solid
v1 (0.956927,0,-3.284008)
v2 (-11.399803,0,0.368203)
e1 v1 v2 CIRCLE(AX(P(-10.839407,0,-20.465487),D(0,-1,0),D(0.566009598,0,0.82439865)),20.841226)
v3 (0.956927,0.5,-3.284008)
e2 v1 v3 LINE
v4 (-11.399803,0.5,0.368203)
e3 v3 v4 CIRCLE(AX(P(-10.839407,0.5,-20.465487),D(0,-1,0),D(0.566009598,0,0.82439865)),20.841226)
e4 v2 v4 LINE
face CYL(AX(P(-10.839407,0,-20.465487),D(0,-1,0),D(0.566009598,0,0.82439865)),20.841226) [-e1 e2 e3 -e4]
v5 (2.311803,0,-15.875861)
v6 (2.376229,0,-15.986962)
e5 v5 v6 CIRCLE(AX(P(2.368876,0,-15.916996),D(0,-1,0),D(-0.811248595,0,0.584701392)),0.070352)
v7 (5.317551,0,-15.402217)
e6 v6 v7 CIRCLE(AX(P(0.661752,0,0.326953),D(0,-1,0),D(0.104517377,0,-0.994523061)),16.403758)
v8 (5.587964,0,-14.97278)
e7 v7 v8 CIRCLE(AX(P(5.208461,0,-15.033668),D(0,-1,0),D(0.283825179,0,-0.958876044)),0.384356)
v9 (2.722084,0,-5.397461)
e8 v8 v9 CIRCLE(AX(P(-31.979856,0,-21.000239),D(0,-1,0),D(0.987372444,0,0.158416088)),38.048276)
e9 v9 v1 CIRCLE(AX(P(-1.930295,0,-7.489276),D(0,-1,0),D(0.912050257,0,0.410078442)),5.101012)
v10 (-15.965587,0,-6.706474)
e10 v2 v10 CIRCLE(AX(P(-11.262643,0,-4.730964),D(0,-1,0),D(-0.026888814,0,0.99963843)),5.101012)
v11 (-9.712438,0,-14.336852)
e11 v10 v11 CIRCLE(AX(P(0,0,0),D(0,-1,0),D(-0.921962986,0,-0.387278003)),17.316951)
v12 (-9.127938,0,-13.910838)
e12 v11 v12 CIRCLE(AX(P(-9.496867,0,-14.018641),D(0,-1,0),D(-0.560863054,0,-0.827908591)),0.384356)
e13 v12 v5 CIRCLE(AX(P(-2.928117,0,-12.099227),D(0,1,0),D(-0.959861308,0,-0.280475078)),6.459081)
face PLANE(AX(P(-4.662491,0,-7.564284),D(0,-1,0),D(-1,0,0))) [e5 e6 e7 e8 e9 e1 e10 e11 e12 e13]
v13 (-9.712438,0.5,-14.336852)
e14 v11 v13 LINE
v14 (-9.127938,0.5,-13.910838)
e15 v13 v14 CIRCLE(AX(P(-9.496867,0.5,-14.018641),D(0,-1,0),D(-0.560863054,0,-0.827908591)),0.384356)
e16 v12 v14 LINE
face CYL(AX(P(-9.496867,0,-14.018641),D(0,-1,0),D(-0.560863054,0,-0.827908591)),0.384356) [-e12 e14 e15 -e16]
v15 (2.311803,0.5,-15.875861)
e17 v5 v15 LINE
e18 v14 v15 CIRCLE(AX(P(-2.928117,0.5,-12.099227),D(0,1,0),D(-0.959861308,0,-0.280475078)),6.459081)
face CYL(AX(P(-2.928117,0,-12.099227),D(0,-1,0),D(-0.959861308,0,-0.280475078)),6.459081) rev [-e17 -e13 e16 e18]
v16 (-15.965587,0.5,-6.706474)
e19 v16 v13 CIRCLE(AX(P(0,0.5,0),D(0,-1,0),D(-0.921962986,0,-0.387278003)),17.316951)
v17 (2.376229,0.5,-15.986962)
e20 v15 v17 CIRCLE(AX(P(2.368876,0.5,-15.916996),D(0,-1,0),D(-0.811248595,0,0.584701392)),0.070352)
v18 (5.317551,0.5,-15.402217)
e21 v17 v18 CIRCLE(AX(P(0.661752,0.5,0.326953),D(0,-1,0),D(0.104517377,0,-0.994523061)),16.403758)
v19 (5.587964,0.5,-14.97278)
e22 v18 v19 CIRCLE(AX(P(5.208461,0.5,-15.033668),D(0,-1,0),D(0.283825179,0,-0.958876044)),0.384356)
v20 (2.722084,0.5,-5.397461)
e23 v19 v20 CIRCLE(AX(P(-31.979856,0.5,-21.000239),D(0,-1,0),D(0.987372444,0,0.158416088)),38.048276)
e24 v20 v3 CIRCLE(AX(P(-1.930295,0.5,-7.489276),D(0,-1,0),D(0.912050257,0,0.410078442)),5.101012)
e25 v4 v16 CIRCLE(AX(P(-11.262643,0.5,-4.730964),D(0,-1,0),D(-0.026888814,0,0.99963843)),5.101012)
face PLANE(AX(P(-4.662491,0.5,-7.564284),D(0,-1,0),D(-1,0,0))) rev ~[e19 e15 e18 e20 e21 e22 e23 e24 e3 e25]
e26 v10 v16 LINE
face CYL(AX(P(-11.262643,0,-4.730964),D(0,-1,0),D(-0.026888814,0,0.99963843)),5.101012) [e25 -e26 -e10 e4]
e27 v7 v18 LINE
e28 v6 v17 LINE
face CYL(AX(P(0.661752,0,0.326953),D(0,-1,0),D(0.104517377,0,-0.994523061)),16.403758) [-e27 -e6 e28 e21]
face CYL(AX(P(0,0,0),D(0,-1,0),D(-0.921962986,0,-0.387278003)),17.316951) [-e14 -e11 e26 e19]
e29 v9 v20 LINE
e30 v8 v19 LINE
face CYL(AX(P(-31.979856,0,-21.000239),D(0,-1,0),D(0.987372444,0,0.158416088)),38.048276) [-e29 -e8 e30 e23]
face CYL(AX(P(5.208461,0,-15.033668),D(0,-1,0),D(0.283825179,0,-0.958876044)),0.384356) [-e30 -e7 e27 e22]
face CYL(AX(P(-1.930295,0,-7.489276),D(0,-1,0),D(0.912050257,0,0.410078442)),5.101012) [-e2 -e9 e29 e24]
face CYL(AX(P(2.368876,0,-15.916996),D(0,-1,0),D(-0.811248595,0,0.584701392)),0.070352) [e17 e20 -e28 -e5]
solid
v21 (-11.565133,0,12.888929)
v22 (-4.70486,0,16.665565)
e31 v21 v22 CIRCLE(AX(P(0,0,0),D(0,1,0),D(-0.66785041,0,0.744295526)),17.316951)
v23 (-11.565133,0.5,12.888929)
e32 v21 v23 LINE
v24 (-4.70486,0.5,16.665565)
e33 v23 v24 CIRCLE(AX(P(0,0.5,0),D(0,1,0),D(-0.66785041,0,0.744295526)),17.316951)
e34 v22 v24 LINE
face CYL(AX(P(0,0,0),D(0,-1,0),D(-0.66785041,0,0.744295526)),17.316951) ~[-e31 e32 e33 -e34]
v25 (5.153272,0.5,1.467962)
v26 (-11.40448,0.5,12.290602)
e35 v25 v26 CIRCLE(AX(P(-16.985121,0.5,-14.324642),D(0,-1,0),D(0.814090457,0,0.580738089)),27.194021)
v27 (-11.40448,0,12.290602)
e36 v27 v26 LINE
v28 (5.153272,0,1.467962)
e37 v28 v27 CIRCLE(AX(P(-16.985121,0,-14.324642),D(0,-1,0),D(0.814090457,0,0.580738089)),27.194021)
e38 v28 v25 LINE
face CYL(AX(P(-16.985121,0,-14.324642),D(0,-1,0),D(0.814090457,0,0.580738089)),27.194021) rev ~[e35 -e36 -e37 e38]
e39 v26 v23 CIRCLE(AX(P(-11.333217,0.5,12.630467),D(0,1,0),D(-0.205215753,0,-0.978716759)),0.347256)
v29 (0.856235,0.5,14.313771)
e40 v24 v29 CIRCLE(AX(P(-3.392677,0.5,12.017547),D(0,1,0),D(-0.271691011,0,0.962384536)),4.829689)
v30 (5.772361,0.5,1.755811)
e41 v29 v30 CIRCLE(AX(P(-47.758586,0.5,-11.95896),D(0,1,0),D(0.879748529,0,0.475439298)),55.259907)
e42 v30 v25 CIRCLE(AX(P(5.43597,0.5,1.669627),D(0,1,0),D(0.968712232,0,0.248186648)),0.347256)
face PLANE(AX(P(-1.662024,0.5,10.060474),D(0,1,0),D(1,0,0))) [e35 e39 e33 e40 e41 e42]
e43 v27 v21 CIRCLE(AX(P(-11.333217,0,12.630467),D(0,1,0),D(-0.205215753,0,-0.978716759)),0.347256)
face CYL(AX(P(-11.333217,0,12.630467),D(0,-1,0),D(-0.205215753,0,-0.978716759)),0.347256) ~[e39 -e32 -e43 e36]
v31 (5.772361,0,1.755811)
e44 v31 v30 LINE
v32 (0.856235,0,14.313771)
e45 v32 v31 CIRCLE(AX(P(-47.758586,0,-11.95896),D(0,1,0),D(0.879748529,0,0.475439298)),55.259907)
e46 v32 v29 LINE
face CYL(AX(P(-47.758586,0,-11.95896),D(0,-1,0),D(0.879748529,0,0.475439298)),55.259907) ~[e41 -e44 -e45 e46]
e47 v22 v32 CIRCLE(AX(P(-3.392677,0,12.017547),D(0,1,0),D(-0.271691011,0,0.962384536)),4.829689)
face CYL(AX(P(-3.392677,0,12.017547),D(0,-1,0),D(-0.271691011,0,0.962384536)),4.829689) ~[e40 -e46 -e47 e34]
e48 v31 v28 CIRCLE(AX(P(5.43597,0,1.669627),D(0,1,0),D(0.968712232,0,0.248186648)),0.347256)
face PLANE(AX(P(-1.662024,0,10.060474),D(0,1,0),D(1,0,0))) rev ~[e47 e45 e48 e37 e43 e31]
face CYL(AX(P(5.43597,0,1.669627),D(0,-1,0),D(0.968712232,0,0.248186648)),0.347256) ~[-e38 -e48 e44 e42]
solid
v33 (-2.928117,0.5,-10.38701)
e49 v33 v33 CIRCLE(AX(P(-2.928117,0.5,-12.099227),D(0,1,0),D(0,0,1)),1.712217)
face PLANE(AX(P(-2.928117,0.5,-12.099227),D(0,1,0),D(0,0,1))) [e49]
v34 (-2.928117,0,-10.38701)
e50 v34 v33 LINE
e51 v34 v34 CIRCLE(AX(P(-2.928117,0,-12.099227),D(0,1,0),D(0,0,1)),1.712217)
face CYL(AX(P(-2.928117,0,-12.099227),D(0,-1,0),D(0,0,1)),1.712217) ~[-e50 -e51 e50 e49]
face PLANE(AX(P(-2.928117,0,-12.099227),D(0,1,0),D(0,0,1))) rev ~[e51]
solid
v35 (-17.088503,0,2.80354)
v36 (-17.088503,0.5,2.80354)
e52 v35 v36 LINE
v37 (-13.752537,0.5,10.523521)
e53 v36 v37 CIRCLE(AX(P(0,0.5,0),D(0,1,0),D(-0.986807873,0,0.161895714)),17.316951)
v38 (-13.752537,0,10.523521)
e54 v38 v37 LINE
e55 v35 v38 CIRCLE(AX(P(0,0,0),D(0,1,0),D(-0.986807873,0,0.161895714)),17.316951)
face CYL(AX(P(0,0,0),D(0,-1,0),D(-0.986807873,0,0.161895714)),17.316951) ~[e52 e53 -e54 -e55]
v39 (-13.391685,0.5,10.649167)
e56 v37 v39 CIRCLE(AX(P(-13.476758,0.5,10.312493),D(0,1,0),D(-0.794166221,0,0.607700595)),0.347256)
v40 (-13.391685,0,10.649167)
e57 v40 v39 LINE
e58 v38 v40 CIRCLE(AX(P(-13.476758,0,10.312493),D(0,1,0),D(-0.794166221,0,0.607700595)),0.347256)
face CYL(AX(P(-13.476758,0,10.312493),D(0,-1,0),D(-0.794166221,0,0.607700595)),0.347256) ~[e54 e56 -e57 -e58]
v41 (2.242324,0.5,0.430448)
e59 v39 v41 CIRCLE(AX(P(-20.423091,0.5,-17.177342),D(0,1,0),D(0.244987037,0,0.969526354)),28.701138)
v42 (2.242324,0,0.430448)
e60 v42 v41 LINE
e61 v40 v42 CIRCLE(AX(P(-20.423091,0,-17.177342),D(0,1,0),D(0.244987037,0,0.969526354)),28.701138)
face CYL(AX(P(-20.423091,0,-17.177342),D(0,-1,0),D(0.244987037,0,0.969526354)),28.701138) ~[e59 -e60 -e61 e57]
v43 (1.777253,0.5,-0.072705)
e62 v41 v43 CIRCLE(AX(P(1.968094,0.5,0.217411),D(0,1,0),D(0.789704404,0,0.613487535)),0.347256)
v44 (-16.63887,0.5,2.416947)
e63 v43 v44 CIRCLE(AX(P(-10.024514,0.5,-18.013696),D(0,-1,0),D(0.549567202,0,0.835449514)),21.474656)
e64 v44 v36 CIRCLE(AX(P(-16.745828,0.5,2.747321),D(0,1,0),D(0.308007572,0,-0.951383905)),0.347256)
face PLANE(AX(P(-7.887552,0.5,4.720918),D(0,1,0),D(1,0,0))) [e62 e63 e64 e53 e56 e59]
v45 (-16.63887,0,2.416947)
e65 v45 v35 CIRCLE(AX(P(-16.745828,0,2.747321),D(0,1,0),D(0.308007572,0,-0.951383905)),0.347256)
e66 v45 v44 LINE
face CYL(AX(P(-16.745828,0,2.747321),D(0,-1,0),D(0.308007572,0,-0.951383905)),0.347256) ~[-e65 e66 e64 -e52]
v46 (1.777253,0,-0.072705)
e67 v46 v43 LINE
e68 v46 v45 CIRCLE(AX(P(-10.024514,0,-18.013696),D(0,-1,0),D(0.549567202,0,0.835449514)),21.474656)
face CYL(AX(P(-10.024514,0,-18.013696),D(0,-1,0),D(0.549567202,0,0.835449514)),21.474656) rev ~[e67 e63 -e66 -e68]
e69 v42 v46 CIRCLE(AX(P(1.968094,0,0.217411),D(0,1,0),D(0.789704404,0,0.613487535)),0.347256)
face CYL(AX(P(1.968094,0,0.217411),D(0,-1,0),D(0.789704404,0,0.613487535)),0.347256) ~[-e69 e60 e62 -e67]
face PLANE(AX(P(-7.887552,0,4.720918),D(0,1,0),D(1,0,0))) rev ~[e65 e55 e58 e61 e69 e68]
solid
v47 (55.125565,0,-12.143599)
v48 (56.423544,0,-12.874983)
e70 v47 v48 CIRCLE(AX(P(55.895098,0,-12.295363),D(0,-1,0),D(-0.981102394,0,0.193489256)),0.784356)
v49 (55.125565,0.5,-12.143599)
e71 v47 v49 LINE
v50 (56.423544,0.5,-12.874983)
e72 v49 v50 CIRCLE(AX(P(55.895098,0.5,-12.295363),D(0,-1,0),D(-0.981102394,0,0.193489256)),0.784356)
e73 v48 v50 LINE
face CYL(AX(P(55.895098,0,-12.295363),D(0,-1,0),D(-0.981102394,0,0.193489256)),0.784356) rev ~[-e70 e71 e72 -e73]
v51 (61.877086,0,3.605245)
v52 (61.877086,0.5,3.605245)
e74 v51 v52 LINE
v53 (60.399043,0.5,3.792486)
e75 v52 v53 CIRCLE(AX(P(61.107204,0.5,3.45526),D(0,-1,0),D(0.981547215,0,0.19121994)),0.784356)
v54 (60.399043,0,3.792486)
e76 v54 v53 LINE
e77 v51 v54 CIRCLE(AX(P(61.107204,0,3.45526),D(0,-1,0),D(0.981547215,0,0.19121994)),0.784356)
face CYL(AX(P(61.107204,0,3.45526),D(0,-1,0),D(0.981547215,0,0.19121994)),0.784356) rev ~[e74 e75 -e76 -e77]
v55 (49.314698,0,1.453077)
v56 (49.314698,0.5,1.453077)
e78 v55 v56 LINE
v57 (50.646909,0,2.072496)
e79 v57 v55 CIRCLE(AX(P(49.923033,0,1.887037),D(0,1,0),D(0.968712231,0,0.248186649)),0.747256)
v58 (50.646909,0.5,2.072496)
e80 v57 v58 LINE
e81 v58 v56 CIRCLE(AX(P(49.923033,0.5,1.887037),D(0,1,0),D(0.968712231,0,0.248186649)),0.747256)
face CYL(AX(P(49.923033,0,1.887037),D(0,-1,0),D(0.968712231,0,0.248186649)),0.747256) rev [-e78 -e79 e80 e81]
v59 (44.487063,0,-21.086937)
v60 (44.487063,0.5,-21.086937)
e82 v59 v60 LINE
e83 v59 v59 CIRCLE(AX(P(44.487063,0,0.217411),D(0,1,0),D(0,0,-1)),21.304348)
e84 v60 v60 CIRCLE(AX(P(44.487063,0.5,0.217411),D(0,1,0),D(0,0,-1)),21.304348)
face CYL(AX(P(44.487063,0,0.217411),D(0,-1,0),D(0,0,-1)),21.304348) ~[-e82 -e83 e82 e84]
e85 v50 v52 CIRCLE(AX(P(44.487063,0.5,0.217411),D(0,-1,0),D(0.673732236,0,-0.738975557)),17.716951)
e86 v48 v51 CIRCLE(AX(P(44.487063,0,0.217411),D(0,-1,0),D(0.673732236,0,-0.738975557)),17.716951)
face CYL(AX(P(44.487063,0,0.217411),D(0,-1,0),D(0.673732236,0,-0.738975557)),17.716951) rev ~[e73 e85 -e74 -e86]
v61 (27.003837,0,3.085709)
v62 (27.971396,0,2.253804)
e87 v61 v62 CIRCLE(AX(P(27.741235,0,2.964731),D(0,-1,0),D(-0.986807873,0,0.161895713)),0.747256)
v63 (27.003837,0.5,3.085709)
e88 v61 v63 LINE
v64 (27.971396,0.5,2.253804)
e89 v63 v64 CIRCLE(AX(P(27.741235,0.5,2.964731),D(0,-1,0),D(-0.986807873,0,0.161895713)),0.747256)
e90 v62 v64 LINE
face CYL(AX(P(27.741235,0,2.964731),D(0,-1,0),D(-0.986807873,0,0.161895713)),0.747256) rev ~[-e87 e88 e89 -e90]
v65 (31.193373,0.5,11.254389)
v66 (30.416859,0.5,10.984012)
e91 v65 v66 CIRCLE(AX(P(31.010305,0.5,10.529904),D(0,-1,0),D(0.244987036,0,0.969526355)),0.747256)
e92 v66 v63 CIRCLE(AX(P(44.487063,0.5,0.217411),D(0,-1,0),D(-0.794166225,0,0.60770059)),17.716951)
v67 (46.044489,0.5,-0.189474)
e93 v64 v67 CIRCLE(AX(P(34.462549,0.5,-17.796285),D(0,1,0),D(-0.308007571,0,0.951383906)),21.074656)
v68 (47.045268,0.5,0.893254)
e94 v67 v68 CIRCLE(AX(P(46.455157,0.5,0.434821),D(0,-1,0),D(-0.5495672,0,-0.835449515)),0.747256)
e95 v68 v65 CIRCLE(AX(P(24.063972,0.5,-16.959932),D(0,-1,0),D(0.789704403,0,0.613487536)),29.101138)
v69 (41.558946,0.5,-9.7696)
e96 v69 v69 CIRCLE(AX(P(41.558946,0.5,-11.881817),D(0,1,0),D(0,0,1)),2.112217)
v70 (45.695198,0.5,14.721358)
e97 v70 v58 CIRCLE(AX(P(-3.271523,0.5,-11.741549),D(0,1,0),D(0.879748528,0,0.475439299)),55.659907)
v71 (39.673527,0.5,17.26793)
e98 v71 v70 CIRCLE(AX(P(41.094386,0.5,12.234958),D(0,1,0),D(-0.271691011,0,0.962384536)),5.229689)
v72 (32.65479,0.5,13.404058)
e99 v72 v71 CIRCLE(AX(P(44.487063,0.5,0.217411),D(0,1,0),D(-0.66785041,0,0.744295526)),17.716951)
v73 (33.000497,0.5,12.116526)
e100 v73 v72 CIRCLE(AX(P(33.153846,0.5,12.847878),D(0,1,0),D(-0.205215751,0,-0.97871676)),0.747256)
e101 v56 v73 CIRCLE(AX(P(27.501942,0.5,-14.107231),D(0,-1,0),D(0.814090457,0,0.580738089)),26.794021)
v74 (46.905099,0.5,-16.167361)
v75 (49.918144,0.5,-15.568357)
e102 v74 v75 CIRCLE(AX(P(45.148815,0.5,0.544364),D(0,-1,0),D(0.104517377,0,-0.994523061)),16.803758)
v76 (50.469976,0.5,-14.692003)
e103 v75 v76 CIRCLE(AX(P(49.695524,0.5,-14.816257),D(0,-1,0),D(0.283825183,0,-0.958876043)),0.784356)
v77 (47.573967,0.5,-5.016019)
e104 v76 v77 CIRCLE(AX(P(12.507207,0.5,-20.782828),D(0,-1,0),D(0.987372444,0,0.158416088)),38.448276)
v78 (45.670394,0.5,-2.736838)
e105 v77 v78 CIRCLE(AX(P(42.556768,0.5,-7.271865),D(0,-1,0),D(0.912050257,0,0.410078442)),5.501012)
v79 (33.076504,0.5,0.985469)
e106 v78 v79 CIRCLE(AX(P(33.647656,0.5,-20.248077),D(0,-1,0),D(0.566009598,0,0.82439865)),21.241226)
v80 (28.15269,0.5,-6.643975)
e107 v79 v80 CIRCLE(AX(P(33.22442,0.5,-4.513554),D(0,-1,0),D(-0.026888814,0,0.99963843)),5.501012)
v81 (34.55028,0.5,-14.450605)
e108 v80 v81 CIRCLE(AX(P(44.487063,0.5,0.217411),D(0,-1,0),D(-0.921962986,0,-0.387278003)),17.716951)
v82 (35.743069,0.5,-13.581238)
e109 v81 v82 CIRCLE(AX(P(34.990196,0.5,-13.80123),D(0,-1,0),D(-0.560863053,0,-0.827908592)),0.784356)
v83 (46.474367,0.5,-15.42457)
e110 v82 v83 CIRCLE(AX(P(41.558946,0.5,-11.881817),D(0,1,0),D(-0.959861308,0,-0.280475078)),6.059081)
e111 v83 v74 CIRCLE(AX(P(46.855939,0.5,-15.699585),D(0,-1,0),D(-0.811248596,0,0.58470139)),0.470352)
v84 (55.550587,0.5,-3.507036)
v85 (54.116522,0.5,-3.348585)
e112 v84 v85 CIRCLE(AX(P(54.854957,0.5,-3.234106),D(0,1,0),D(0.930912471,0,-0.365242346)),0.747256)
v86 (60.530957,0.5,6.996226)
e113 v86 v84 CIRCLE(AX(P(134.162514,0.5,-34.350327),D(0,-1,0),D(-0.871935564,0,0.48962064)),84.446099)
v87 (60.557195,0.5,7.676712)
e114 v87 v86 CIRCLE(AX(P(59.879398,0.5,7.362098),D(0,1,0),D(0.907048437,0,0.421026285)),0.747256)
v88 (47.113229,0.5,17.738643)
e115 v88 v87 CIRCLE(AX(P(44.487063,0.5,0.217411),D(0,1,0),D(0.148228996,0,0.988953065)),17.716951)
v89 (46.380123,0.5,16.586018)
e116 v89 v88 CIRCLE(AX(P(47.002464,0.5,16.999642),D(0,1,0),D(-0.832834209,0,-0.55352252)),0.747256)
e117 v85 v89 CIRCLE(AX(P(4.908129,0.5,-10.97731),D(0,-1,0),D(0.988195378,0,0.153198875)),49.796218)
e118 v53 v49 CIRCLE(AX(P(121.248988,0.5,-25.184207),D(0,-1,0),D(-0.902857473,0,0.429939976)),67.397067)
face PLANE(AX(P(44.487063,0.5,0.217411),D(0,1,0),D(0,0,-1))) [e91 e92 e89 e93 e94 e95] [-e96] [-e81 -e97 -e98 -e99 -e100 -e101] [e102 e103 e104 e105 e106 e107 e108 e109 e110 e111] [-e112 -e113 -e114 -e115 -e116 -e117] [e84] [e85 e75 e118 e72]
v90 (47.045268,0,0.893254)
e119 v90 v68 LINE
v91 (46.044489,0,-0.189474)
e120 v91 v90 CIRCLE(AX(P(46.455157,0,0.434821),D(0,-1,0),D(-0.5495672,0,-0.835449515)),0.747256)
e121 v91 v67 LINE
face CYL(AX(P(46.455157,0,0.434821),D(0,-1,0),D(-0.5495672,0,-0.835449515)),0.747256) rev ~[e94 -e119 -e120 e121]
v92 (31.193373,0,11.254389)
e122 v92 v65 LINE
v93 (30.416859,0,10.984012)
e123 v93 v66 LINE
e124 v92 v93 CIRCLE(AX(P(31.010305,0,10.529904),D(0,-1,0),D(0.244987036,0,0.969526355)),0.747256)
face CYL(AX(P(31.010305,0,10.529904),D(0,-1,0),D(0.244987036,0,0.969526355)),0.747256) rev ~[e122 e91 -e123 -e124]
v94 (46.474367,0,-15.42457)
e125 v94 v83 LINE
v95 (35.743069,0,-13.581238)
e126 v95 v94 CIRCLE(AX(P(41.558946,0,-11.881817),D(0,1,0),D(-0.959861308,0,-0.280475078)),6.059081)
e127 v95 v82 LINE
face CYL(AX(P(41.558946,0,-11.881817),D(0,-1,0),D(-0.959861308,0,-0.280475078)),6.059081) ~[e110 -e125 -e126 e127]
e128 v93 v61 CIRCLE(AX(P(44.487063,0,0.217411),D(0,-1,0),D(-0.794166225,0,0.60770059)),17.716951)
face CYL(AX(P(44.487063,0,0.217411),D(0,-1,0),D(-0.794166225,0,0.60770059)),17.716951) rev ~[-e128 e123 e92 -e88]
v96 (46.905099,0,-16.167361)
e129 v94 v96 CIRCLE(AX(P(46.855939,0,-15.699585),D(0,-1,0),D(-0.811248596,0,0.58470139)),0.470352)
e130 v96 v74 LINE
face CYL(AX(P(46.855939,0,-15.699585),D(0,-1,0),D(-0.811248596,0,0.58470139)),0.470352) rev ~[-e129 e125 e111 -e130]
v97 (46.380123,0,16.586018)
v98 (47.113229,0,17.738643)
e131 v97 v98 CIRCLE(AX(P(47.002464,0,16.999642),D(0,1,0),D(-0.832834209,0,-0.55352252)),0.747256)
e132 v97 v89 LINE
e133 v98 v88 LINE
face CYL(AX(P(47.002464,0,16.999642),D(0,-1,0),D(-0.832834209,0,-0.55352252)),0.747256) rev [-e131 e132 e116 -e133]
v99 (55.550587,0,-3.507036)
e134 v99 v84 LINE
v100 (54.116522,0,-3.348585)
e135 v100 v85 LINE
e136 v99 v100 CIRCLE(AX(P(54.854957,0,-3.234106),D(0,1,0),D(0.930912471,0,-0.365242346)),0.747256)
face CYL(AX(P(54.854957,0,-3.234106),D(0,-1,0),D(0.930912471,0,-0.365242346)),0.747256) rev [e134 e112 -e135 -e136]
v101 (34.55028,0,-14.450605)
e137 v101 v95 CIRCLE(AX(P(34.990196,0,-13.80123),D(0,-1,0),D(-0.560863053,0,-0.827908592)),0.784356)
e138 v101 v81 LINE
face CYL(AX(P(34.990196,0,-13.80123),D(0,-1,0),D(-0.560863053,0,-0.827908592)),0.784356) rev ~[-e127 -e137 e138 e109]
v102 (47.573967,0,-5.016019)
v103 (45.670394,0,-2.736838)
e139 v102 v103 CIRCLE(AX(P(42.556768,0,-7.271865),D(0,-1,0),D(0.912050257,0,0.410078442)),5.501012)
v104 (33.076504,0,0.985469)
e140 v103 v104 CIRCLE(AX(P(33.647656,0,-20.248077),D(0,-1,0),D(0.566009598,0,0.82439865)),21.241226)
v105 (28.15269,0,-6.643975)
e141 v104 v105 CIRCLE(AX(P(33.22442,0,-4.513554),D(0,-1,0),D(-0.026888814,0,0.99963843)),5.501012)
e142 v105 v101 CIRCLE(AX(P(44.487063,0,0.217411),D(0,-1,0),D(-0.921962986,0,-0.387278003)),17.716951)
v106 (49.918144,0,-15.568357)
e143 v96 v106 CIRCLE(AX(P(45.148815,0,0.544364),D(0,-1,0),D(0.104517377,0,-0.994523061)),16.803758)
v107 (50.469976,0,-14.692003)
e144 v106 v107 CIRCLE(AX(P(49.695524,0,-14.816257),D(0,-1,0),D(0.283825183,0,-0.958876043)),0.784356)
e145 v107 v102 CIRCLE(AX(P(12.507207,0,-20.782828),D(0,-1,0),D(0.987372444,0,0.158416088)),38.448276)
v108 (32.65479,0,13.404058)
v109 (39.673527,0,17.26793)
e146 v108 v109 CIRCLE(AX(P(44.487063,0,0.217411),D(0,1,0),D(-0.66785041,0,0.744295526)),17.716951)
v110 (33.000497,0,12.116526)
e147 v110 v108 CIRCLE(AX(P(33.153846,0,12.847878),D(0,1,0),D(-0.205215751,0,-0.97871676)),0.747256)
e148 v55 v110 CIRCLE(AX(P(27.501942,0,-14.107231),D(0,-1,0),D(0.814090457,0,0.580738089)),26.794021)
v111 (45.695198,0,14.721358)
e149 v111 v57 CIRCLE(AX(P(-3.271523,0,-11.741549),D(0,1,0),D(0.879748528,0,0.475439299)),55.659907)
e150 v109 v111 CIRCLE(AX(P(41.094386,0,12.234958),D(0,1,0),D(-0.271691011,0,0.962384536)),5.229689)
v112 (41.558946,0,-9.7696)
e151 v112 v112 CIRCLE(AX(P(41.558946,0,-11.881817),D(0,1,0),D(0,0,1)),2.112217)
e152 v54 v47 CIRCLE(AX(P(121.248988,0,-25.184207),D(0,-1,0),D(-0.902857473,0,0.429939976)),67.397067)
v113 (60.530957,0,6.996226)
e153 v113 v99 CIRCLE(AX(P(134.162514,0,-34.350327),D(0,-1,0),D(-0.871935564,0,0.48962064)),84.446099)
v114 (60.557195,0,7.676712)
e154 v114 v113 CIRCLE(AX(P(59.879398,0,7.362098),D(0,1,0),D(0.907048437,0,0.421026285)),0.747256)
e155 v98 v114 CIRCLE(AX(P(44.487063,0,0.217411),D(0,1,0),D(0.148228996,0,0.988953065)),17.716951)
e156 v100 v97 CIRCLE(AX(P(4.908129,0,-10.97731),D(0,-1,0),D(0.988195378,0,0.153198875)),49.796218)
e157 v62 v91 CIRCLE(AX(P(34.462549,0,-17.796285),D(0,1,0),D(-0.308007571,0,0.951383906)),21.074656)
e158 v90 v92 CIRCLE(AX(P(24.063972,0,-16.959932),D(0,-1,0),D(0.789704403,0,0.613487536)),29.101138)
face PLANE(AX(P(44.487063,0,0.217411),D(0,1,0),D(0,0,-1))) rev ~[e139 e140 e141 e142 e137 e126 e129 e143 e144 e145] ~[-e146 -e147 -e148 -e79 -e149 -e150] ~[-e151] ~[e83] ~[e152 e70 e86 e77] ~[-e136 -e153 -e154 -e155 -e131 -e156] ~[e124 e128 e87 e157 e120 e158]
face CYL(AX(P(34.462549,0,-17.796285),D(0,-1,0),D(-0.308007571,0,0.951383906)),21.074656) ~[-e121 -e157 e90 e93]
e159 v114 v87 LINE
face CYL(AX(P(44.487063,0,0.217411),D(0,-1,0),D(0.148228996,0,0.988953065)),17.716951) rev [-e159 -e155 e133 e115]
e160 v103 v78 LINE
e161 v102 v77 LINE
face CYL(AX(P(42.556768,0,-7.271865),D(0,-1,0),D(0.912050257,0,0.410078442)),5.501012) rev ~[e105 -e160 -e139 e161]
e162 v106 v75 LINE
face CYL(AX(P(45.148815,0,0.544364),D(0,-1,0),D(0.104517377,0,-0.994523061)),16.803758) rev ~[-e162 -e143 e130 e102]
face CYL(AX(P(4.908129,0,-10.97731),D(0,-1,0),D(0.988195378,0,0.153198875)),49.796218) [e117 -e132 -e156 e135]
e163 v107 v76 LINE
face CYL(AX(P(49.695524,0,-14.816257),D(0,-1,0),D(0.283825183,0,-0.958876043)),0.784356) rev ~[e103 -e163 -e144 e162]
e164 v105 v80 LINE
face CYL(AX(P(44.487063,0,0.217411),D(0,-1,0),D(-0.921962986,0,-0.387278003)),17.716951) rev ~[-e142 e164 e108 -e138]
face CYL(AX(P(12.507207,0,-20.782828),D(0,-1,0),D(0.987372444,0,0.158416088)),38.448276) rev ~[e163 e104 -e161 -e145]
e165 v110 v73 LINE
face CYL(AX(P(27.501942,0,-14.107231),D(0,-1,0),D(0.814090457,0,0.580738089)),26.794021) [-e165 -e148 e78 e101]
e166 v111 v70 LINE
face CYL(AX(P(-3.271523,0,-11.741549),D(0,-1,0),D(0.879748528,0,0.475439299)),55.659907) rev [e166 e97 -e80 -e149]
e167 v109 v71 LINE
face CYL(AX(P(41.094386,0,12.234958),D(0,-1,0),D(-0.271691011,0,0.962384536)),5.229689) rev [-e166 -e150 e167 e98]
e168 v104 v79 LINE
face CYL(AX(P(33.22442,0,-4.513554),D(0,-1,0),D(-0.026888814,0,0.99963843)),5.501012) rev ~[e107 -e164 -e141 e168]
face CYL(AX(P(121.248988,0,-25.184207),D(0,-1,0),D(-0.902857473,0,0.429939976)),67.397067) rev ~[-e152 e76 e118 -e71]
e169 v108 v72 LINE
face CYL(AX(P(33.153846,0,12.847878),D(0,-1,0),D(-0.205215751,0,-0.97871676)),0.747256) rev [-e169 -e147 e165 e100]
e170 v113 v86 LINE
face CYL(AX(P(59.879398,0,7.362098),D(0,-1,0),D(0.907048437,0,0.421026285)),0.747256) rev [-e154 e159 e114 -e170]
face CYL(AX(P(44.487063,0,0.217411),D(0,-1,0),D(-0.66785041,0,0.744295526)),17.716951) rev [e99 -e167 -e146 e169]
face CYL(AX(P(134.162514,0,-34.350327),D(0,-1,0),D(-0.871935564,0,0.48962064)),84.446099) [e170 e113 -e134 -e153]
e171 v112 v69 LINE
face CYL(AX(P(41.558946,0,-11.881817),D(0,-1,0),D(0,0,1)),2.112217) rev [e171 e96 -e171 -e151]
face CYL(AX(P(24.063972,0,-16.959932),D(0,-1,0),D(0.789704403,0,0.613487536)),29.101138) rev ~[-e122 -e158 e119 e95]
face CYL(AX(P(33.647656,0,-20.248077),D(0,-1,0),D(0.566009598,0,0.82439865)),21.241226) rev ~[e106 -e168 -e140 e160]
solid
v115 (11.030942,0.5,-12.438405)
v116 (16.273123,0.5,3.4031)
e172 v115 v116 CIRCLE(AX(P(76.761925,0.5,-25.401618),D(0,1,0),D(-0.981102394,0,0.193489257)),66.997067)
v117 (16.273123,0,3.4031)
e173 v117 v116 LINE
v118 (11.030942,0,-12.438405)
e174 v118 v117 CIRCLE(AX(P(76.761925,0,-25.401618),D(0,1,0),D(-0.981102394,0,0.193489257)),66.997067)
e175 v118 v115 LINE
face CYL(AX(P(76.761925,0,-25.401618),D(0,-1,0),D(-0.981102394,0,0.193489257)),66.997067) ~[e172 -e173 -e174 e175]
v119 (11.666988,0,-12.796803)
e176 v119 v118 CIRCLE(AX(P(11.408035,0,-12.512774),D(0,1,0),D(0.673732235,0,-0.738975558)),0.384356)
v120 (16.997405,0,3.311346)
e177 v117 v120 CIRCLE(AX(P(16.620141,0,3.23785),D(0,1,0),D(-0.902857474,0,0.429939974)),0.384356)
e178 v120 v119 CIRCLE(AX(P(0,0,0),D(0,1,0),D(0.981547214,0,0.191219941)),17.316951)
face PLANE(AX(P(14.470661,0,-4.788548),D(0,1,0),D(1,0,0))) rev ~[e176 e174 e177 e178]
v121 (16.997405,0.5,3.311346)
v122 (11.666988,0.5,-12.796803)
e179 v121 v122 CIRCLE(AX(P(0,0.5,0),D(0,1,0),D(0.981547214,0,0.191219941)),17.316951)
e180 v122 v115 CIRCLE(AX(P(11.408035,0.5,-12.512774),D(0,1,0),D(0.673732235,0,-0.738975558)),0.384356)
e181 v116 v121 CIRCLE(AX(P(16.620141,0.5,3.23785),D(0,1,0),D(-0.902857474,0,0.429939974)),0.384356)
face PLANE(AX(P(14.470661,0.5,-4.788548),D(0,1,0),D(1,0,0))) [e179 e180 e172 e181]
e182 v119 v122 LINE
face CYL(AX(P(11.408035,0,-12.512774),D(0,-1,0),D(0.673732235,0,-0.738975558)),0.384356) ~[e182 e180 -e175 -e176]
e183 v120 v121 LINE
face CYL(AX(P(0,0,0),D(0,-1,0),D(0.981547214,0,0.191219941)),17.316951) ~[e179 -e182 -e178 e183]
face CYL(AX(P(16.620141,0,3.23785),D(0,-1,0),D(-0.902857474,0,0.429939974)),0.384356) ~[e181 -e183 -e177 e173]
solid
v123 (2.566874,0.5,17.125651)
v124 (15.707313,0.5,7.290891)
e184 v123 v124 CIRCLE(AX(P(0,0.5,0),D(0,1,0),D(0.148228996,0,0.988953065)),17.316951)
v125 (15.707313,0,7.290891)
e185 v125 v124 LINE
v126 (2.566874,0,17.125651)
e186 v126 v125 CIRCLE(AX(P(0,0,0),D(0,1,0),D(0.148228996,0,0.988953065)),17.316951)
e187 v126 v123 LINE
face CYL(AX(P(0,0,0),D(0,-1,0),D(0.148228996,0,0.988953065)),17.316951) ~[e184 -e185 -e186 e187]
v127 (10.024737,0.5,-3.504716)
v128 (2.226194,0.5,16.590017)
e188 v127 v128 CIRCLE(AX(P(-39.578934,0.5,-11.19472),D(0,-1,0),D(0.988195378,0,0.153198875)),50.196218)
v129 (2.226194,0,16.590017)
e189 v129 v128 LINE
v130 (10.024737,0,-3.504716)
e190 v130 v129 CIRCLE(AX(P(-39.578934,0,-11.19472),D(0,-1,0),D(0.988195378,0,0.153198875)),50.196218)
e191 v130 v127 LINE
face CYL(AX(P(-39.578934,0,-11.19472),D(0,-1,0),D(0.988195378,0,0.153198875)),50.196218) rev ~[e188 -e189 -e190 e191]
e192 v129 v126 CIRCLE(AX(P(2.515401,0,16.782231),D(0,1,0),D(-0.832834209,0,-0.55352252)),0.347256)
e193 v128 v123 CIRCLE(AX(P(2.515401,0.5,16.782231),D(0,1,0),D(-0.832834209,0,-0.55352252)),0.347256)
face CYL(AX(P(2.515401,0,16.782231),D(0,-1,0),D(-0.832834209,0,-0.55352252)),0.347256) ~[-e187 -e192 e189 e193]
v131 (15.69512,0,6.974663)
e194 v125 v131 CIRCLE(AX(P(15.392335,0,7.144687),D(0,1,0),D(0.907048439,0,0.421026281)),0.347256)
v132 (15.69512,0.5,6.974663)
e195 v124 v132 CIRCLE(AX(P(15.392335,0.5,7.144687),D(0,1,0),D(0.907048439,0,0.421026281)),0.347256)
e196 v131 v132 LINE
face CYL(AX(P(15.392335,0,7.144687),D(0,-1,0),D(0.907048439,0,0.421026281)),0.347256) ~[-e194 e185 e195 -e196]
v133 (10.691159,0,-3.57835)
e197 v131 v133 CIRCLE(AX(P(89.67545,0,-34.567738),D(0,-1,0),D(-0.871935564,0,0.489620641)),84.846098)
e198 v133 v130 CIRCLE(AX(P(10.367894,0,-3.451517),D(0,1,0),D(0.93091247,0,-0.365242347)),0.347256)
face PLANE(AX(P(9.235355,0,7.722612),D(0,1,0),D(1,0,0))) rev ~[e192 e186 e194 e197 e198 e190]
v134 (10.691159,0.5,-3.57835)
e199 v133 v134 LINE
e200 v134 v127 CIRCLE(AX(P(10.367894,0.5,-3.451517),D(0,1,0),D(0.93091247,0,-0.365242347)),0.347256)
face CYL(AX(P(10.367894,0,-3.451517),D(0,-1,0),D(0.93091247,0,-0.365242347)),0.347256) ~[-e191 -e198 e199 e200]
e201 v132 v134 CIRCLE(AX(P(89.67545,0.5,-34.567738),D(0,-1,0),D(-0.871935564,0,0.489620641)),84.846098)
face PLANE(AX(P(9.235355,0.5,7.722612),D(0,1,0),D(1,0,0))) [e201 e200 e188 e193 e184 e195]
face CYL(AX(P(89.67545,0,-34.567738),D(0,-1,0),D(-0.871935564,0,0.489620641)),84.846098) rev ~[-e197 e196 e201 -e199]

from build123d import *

# Parameters (mm, degrees)
SKETCH1_R             = 21.304347825
SKETCH1_R_2           = 2.112216788
BOSS_EXTRUDE1_DEPTH   = 0.5
SKETCH1_R_3           = 1.712216788
BOSS_EXTRUDE1_2_DEPTH = 0.5
BOSS_EXTRUDE1_3_DEPTH = 0.5
BOSS_EXTRUDE1_4_DEPTH = 0.5
BOSS_EXTRUDE1_5_DEPTH = 0.5
BOSS_EXTRUDE1_6_DEPTH = 0.5
BOSS_EXTRUDE1_7_DEPTH = 0.5


with BuildPart() as part:
    # Sketch1 → Boss-Extrude1 (new body)
    with BuildSketch(Plane(origin=(0, 0, 0), x_dir=(1, 0, 0), z_dir=(0, 1, 0))):
        with Locations(Location((44.487062997, -0.21741061, 0), (0, 0, 90))):
            Circle(SKETCH1_R)
        with Locations(Location((41.558946189, 11.881816638, 0), (0, 0, 270))):
            Circle(SKETCH1_R_2, mode=Mode.SUBTRACT)
        with BuildLine():
            ThreePointArc((39.673526788, -17.26792982), (43.131364778, -17.051633854), (45.695197803, -14.721357534))
            ThreePointArc((45.695197803, -14.721357534), (48.558363163, -8.54854891), (50.646909198, -2.072496282))
            ThreePointArc((50.646909198, -2.072496282), (50.238084471, -1.209442528), (49.314698472, -1.453076963))
            ThreePointArc((49.314698472, -1.453076963), (42.161553817, -8.3207717), (33.000497038, -12.116525664))
            ThreePointArc((33.000497038, -12.116525664), (32.432151651, -12.654100691), (32.654790326, -13.404057629))
            ThreePointArc((32.654790326, -13.404057629), (35.942876939, -15.737952507), (39.673526788, -17.26792982))
        make_face(mode=Mode.SUBTRACT)
        with BuildLine():
            ThreePointArc((56.423543694, 12.874982783), (61.307004643, 5.348548355), (61.877086439, -3.605244851))
            ThreePointArc((61.877086439, -3.605244851), (61.205780047, -4.233397155), (60.399042663, -3.792486299))
            ThreePointArc((60.399042663, -3.792486299), (57.264233589, 4.010737662), (55.125564527, 12.143598583))
            ThreePointArc((55.125564527, 12.143598583), (55.510050475, 12.978702256), (56.423543694, 12.874982783))
        make_face(mode=Mode.SUBTRACT)
        with BuildLine():
            ThreePointArc((35.74306904, 13.58123778), (42.584701249, 5.910193259), (46.474366925, 15.424569553))
            ThreePointArc((46.474366925, 15.424569553), (46.449049576, 15.935533661), (46.905099323, 16.167361001))
            ThreePointArc((46.905099323, 16.167361001), (48.425339038, 15.936857925), (49.918144326, 15.568357139))
            ThreePointArc((49.918144326, 15.568357139), (50.359254089, 15.234200839), (50.469975713, 14.692002558))
            ThreePointArc((50.469975713, 14.692002558), (49.341079976, 9.758502022), (47.573967467, 5.016018864))
            ThreePointArc((47.573967467, 5.016018864), (46.778881813, 3.745551568), (45.670393621, 2.736838391))
            ThreePointArc((45.670393621, 2.736838391), (39.668336878, -0.122026225), (33.076504218, -0.985469451))
            ThreePointArc((33.076504218, -0.985469451), (28.602377258, 1.530626264), (28.152690377, 6.64397462))
            ThreePointArc((28.152690377, 6.64397462), (30.783805242, 11.012507603), (34.550280043, 14.450604958))
            ThreePointArc((34.550280043, 14.450604958), (35.452186805, 14.435090248), (35.74306904, 13.58123778))
        make_face(mode=Mode.SUBTRACT)
        with BuildLine():
            ThreePointArc((46.04448921, 0.18947378), (47.003905166, 0.072394105), (47.045268493, -0.89325371))
            ThreePointArc((47.045268493, -0.89325371), (39.985712078, -7.399346097), (31.193373212, -11.254388531))
            ThreePointArc((31.193373212, -11.254388531), (30.764585044, -11.23560468), (30.416859282, -10.984011912))
            ThreePointArc((30.416859282, -10.984011912), (28.223590637, -7.245198523), (27.003836731, -3.085708973))
            ThreePointArc((27.003836731, -3.085708973), (27.254060539, -2.398116018), (27.971395863, -2.253803647))
            ThreePointArc((27.971395863, -2.253803647), (37.285921037, -3.088391272), (46.04448921, 0.18947378))
        make_face(mode=Mode.SUBTRACT)
        with BuildLine():
            ThreePointArc((55.550587305, 3.507035985), (54.772891569, 3.976842729), (54.116521674, 3.348585143))
            ThreePointArc((54.116521674, 3.348585143), (51.330970772, -7.038880469), (46.380123031, -16.586018381))
            ThreePointArc((46.380123031, -16.586018381), (46.371937467, -17.400676251), (47.113228794, -17.73864314))
            ThreePointArc((47.113228794, -17.73864314), (55.103018102, -14.401621317), (60.557195292, -7.676712468))
            ThreePointArc((60.557195292, -7.676712468), (60.626099076, -7.33330644), (60.530956972, -6.996225721))
            ThreePointArc((60.530956972, -6.996225721), (57.859832456, -1.830391693), (55.550587305, 3.507035985))
        make_face(mode=Mode.SUBTRACT)
    extrude(amount=BOSS_EXTRUDE1_DEPTH)


with BuildPart() as body_2:
    # Sketch1 → Boss-Extrude1 2 (new body)
    with BuildSketch(Plane(origin=(0, 0, 0), x_dir=(1, 0, 0), z_dir=(0, 1, 0))):
        with Locations(Location((-2.928116808, 12.099227248, 0), (0, 0, 270))):
            Circle(SKETCH1_R_3)
    extrude(amount=BOSS_EXTRUDE1_2_DEPTH)


with BuildPart() as body_3:
    # Sketch1 → Boss-Extrude1 3 (new body)
    with BuildSketch(Plane(origin=(0, 0, 0), x_dir=(1, 0, 0), z_dir=(0, 1, 0))):
        with BuildLine():
            ThreePointArc((-11.399803254, -0.368203468), (-15.548599028, 1.964937134), (-15.965587426, 6.706474028))
            ThreePointArc((-15.965587426, 6.706474028), (-13.393875896, 10.976377555), (-9.712437733, 14.336852131))
            ThreePointArc((-9.712437733, 14.336852131), (-9.270478736, 14.329249499), (-9.12793848, 13.910838421))
            ThreePointArc((-9.12793848, 13.910838421), (-1.834644871, 5.733377507), (2.311803366, 15.875860718))
            ThreePointArc((2.311803366, 15.875860718), (2.30801657, 15.952287238), (2.376229375, 15.986962387))
            ThreePointArc((2.376229375, 15.986962387), (3.860281002, 15.761946252), (5.317551256, 15.402217331))
            ThreePointArc((5.317551256, 15.402217331), (5.533707112, 15.2384716), (5.587963738, 14.972779603))
            ThreePointArc((5.587963738, 14.972779603), (4.470812566, 10.090605171), (2.722084367, 5.397460851))
            ThreePointArc((2.722084367, 5.397460851), (1.984812486, 4.219374177), (0.956926784, 3.284008461))
            ThreePointArc((0.956926784, 3.284008461), (-4.932103401, 0.478979995), (-11.399803254, -0.368203468))
        make_face()
    extrude(amount=BOSS_EXTRUDE1_3_DEPTH)


with BuildPart() as body_4:
    # Sketch1 → Boss-Extrude1 4 (new body)
    with BuildSketch(Plane(origin=(0, 0, 0), x_dir=(1, 0, 0), z_dir=(0, 1, 0))):
        with BuildLine():
            ThreePointArc((1.777253093, 0.072704584), (-7.147553962, -3.267374817), (-16.638870162, -2.4169466))
            ThreePointArc((-16.638870162, -2.4169466), (-16.972221986, -2.484009785), (-17.088503117, -2.803540078))
            ThreePointArc((-17.088503117, -2.803540078), (-15.896287899, -6.869119797), (-13.752537225, -10.523521066))
            ThreePointArc((-13.752537225, -10.523521066), (-13.590946107, -10.640438364), (-13.3916846, -10.64916738))
            ThreePointArc((-13.3916846, -10.64916738), (-4.720197899, -6.847113147), (2.242323735, -0.430448086))
            ThreePointArc((2.242323735, -0.430448086), (2.223101845, 0.018296664), (1.777253093, 0.072704584))
        make_face()
    extrude(amount=BOSS_EXTRUDE1_4_DEPTH)


with BuildPart() as body_5:
    # Sketch1 → Boss-Extrude1 5 (new body)
    with BuildSketch(Plane(origin=(0, 0, 0), x_dir=(1, 0, 0), z_dir=(0, 1, 0))):
        with BuildLine():
            ThreePointArc((5.153271658, -1.467961589), (-2.106660176, -8.438182107), (-11.404479659, -12.290601758))
            ThreePointArc((-11.404479659, -12.290601758), (-11.668594592, -12.540417444), (-11.565132507, -12.888928809))
            ThreePointArc((-11.565132507, -12.888928809), (-8.351281844, -15.170130761), (-4.704859805, -16.665565396))
            ThreePointArc((-4.704859805, -16.665565396), (-1.511499324, -16.465813125), (0.856235395, -14.313771205))
            ThreePointArc((0.856235395, -14.313771205), (3.698824612, -8.185323479), (5.772361309, -1.755811013))
            ThreePointArc((5.772361309, -1.755811013), (5.582376982, -1.354742596), (5.153271658, -1.467961589))
        make_face()
    extrude(amount=BOSS_EXTRUDE1_5_DEPTH)


with BuildPart() as body_6:
    # Sketch1 → Boss-Extrude1 6 (new body)
    with BuildSketch(Plane(origin=(0, 0, 0), x_dir=(1, 0, 0), z_dir=(0, 1, 0))):
        with BuildLine():
            ThreePointArc((10.024736828, 3.504716203), (7.216810324, -6.966189204), (2.226193717, -16.590016779))
            ThreePointArc((2.226193717, -16.590016779), (2.222389816, -16.968595218), (2.566874198, -17.125651304))
            ThreePointArc((2.566874198, -17.125651304), (10.376276046, -13.863970253), (15.70731292, -7.290891344))
            ThreePointArc((15.70731292, -7.290891344), (15.739333094, -7.131307643), (15.69511975, -6.974663367))
            ThreePointArc((15.69511975, -6.974663367), (13.011342786, -1.784360079), (10.691159319, 3.578349656))
            ThreePointArc((10.691159319, 3.578349656), (10.329757499, 3.796672844), (10.024736828, 3.504716203))
        make_face()
    extrude(amount=BOSS_EXTRUDE1_6_DEPTH)


with BuildPart() as body_7:
    # Sketch1 → Boss-Extrude1 7 (new body)
    with BuildSketch(Plane(origin=(0, 0, 0), x_dir=(1, 0, 0), z_dir=(0, 1, 0))):
        with BuildLine():
            ThreePointArc((11.030942488, 12.438404895), (13.156918599, 4.353812312), (16.273122655, -3.403099698))
            ThreePointArc((16.273122655, -3.403099698), (16.668446052, -3.619158085), (16.997404557, -3.311346265))
            ThreePointArc((16.997404557, -3.311346265), (16.440193639, 5.440294925), (11.666987802, 12.79680317))
            ThreePointArc((11.666987802, 12.79680317), (11.219351125, 12.84762855), (11.030942488, 12.438404895))
        make_face()
    extrude(amount=BOSS_EXTRUDE1_7_DEPTH)


solid = Compound([part.part, body_2.part, body_3.part, body_4.part, body_5.part, body_6.part, body_7.part])
